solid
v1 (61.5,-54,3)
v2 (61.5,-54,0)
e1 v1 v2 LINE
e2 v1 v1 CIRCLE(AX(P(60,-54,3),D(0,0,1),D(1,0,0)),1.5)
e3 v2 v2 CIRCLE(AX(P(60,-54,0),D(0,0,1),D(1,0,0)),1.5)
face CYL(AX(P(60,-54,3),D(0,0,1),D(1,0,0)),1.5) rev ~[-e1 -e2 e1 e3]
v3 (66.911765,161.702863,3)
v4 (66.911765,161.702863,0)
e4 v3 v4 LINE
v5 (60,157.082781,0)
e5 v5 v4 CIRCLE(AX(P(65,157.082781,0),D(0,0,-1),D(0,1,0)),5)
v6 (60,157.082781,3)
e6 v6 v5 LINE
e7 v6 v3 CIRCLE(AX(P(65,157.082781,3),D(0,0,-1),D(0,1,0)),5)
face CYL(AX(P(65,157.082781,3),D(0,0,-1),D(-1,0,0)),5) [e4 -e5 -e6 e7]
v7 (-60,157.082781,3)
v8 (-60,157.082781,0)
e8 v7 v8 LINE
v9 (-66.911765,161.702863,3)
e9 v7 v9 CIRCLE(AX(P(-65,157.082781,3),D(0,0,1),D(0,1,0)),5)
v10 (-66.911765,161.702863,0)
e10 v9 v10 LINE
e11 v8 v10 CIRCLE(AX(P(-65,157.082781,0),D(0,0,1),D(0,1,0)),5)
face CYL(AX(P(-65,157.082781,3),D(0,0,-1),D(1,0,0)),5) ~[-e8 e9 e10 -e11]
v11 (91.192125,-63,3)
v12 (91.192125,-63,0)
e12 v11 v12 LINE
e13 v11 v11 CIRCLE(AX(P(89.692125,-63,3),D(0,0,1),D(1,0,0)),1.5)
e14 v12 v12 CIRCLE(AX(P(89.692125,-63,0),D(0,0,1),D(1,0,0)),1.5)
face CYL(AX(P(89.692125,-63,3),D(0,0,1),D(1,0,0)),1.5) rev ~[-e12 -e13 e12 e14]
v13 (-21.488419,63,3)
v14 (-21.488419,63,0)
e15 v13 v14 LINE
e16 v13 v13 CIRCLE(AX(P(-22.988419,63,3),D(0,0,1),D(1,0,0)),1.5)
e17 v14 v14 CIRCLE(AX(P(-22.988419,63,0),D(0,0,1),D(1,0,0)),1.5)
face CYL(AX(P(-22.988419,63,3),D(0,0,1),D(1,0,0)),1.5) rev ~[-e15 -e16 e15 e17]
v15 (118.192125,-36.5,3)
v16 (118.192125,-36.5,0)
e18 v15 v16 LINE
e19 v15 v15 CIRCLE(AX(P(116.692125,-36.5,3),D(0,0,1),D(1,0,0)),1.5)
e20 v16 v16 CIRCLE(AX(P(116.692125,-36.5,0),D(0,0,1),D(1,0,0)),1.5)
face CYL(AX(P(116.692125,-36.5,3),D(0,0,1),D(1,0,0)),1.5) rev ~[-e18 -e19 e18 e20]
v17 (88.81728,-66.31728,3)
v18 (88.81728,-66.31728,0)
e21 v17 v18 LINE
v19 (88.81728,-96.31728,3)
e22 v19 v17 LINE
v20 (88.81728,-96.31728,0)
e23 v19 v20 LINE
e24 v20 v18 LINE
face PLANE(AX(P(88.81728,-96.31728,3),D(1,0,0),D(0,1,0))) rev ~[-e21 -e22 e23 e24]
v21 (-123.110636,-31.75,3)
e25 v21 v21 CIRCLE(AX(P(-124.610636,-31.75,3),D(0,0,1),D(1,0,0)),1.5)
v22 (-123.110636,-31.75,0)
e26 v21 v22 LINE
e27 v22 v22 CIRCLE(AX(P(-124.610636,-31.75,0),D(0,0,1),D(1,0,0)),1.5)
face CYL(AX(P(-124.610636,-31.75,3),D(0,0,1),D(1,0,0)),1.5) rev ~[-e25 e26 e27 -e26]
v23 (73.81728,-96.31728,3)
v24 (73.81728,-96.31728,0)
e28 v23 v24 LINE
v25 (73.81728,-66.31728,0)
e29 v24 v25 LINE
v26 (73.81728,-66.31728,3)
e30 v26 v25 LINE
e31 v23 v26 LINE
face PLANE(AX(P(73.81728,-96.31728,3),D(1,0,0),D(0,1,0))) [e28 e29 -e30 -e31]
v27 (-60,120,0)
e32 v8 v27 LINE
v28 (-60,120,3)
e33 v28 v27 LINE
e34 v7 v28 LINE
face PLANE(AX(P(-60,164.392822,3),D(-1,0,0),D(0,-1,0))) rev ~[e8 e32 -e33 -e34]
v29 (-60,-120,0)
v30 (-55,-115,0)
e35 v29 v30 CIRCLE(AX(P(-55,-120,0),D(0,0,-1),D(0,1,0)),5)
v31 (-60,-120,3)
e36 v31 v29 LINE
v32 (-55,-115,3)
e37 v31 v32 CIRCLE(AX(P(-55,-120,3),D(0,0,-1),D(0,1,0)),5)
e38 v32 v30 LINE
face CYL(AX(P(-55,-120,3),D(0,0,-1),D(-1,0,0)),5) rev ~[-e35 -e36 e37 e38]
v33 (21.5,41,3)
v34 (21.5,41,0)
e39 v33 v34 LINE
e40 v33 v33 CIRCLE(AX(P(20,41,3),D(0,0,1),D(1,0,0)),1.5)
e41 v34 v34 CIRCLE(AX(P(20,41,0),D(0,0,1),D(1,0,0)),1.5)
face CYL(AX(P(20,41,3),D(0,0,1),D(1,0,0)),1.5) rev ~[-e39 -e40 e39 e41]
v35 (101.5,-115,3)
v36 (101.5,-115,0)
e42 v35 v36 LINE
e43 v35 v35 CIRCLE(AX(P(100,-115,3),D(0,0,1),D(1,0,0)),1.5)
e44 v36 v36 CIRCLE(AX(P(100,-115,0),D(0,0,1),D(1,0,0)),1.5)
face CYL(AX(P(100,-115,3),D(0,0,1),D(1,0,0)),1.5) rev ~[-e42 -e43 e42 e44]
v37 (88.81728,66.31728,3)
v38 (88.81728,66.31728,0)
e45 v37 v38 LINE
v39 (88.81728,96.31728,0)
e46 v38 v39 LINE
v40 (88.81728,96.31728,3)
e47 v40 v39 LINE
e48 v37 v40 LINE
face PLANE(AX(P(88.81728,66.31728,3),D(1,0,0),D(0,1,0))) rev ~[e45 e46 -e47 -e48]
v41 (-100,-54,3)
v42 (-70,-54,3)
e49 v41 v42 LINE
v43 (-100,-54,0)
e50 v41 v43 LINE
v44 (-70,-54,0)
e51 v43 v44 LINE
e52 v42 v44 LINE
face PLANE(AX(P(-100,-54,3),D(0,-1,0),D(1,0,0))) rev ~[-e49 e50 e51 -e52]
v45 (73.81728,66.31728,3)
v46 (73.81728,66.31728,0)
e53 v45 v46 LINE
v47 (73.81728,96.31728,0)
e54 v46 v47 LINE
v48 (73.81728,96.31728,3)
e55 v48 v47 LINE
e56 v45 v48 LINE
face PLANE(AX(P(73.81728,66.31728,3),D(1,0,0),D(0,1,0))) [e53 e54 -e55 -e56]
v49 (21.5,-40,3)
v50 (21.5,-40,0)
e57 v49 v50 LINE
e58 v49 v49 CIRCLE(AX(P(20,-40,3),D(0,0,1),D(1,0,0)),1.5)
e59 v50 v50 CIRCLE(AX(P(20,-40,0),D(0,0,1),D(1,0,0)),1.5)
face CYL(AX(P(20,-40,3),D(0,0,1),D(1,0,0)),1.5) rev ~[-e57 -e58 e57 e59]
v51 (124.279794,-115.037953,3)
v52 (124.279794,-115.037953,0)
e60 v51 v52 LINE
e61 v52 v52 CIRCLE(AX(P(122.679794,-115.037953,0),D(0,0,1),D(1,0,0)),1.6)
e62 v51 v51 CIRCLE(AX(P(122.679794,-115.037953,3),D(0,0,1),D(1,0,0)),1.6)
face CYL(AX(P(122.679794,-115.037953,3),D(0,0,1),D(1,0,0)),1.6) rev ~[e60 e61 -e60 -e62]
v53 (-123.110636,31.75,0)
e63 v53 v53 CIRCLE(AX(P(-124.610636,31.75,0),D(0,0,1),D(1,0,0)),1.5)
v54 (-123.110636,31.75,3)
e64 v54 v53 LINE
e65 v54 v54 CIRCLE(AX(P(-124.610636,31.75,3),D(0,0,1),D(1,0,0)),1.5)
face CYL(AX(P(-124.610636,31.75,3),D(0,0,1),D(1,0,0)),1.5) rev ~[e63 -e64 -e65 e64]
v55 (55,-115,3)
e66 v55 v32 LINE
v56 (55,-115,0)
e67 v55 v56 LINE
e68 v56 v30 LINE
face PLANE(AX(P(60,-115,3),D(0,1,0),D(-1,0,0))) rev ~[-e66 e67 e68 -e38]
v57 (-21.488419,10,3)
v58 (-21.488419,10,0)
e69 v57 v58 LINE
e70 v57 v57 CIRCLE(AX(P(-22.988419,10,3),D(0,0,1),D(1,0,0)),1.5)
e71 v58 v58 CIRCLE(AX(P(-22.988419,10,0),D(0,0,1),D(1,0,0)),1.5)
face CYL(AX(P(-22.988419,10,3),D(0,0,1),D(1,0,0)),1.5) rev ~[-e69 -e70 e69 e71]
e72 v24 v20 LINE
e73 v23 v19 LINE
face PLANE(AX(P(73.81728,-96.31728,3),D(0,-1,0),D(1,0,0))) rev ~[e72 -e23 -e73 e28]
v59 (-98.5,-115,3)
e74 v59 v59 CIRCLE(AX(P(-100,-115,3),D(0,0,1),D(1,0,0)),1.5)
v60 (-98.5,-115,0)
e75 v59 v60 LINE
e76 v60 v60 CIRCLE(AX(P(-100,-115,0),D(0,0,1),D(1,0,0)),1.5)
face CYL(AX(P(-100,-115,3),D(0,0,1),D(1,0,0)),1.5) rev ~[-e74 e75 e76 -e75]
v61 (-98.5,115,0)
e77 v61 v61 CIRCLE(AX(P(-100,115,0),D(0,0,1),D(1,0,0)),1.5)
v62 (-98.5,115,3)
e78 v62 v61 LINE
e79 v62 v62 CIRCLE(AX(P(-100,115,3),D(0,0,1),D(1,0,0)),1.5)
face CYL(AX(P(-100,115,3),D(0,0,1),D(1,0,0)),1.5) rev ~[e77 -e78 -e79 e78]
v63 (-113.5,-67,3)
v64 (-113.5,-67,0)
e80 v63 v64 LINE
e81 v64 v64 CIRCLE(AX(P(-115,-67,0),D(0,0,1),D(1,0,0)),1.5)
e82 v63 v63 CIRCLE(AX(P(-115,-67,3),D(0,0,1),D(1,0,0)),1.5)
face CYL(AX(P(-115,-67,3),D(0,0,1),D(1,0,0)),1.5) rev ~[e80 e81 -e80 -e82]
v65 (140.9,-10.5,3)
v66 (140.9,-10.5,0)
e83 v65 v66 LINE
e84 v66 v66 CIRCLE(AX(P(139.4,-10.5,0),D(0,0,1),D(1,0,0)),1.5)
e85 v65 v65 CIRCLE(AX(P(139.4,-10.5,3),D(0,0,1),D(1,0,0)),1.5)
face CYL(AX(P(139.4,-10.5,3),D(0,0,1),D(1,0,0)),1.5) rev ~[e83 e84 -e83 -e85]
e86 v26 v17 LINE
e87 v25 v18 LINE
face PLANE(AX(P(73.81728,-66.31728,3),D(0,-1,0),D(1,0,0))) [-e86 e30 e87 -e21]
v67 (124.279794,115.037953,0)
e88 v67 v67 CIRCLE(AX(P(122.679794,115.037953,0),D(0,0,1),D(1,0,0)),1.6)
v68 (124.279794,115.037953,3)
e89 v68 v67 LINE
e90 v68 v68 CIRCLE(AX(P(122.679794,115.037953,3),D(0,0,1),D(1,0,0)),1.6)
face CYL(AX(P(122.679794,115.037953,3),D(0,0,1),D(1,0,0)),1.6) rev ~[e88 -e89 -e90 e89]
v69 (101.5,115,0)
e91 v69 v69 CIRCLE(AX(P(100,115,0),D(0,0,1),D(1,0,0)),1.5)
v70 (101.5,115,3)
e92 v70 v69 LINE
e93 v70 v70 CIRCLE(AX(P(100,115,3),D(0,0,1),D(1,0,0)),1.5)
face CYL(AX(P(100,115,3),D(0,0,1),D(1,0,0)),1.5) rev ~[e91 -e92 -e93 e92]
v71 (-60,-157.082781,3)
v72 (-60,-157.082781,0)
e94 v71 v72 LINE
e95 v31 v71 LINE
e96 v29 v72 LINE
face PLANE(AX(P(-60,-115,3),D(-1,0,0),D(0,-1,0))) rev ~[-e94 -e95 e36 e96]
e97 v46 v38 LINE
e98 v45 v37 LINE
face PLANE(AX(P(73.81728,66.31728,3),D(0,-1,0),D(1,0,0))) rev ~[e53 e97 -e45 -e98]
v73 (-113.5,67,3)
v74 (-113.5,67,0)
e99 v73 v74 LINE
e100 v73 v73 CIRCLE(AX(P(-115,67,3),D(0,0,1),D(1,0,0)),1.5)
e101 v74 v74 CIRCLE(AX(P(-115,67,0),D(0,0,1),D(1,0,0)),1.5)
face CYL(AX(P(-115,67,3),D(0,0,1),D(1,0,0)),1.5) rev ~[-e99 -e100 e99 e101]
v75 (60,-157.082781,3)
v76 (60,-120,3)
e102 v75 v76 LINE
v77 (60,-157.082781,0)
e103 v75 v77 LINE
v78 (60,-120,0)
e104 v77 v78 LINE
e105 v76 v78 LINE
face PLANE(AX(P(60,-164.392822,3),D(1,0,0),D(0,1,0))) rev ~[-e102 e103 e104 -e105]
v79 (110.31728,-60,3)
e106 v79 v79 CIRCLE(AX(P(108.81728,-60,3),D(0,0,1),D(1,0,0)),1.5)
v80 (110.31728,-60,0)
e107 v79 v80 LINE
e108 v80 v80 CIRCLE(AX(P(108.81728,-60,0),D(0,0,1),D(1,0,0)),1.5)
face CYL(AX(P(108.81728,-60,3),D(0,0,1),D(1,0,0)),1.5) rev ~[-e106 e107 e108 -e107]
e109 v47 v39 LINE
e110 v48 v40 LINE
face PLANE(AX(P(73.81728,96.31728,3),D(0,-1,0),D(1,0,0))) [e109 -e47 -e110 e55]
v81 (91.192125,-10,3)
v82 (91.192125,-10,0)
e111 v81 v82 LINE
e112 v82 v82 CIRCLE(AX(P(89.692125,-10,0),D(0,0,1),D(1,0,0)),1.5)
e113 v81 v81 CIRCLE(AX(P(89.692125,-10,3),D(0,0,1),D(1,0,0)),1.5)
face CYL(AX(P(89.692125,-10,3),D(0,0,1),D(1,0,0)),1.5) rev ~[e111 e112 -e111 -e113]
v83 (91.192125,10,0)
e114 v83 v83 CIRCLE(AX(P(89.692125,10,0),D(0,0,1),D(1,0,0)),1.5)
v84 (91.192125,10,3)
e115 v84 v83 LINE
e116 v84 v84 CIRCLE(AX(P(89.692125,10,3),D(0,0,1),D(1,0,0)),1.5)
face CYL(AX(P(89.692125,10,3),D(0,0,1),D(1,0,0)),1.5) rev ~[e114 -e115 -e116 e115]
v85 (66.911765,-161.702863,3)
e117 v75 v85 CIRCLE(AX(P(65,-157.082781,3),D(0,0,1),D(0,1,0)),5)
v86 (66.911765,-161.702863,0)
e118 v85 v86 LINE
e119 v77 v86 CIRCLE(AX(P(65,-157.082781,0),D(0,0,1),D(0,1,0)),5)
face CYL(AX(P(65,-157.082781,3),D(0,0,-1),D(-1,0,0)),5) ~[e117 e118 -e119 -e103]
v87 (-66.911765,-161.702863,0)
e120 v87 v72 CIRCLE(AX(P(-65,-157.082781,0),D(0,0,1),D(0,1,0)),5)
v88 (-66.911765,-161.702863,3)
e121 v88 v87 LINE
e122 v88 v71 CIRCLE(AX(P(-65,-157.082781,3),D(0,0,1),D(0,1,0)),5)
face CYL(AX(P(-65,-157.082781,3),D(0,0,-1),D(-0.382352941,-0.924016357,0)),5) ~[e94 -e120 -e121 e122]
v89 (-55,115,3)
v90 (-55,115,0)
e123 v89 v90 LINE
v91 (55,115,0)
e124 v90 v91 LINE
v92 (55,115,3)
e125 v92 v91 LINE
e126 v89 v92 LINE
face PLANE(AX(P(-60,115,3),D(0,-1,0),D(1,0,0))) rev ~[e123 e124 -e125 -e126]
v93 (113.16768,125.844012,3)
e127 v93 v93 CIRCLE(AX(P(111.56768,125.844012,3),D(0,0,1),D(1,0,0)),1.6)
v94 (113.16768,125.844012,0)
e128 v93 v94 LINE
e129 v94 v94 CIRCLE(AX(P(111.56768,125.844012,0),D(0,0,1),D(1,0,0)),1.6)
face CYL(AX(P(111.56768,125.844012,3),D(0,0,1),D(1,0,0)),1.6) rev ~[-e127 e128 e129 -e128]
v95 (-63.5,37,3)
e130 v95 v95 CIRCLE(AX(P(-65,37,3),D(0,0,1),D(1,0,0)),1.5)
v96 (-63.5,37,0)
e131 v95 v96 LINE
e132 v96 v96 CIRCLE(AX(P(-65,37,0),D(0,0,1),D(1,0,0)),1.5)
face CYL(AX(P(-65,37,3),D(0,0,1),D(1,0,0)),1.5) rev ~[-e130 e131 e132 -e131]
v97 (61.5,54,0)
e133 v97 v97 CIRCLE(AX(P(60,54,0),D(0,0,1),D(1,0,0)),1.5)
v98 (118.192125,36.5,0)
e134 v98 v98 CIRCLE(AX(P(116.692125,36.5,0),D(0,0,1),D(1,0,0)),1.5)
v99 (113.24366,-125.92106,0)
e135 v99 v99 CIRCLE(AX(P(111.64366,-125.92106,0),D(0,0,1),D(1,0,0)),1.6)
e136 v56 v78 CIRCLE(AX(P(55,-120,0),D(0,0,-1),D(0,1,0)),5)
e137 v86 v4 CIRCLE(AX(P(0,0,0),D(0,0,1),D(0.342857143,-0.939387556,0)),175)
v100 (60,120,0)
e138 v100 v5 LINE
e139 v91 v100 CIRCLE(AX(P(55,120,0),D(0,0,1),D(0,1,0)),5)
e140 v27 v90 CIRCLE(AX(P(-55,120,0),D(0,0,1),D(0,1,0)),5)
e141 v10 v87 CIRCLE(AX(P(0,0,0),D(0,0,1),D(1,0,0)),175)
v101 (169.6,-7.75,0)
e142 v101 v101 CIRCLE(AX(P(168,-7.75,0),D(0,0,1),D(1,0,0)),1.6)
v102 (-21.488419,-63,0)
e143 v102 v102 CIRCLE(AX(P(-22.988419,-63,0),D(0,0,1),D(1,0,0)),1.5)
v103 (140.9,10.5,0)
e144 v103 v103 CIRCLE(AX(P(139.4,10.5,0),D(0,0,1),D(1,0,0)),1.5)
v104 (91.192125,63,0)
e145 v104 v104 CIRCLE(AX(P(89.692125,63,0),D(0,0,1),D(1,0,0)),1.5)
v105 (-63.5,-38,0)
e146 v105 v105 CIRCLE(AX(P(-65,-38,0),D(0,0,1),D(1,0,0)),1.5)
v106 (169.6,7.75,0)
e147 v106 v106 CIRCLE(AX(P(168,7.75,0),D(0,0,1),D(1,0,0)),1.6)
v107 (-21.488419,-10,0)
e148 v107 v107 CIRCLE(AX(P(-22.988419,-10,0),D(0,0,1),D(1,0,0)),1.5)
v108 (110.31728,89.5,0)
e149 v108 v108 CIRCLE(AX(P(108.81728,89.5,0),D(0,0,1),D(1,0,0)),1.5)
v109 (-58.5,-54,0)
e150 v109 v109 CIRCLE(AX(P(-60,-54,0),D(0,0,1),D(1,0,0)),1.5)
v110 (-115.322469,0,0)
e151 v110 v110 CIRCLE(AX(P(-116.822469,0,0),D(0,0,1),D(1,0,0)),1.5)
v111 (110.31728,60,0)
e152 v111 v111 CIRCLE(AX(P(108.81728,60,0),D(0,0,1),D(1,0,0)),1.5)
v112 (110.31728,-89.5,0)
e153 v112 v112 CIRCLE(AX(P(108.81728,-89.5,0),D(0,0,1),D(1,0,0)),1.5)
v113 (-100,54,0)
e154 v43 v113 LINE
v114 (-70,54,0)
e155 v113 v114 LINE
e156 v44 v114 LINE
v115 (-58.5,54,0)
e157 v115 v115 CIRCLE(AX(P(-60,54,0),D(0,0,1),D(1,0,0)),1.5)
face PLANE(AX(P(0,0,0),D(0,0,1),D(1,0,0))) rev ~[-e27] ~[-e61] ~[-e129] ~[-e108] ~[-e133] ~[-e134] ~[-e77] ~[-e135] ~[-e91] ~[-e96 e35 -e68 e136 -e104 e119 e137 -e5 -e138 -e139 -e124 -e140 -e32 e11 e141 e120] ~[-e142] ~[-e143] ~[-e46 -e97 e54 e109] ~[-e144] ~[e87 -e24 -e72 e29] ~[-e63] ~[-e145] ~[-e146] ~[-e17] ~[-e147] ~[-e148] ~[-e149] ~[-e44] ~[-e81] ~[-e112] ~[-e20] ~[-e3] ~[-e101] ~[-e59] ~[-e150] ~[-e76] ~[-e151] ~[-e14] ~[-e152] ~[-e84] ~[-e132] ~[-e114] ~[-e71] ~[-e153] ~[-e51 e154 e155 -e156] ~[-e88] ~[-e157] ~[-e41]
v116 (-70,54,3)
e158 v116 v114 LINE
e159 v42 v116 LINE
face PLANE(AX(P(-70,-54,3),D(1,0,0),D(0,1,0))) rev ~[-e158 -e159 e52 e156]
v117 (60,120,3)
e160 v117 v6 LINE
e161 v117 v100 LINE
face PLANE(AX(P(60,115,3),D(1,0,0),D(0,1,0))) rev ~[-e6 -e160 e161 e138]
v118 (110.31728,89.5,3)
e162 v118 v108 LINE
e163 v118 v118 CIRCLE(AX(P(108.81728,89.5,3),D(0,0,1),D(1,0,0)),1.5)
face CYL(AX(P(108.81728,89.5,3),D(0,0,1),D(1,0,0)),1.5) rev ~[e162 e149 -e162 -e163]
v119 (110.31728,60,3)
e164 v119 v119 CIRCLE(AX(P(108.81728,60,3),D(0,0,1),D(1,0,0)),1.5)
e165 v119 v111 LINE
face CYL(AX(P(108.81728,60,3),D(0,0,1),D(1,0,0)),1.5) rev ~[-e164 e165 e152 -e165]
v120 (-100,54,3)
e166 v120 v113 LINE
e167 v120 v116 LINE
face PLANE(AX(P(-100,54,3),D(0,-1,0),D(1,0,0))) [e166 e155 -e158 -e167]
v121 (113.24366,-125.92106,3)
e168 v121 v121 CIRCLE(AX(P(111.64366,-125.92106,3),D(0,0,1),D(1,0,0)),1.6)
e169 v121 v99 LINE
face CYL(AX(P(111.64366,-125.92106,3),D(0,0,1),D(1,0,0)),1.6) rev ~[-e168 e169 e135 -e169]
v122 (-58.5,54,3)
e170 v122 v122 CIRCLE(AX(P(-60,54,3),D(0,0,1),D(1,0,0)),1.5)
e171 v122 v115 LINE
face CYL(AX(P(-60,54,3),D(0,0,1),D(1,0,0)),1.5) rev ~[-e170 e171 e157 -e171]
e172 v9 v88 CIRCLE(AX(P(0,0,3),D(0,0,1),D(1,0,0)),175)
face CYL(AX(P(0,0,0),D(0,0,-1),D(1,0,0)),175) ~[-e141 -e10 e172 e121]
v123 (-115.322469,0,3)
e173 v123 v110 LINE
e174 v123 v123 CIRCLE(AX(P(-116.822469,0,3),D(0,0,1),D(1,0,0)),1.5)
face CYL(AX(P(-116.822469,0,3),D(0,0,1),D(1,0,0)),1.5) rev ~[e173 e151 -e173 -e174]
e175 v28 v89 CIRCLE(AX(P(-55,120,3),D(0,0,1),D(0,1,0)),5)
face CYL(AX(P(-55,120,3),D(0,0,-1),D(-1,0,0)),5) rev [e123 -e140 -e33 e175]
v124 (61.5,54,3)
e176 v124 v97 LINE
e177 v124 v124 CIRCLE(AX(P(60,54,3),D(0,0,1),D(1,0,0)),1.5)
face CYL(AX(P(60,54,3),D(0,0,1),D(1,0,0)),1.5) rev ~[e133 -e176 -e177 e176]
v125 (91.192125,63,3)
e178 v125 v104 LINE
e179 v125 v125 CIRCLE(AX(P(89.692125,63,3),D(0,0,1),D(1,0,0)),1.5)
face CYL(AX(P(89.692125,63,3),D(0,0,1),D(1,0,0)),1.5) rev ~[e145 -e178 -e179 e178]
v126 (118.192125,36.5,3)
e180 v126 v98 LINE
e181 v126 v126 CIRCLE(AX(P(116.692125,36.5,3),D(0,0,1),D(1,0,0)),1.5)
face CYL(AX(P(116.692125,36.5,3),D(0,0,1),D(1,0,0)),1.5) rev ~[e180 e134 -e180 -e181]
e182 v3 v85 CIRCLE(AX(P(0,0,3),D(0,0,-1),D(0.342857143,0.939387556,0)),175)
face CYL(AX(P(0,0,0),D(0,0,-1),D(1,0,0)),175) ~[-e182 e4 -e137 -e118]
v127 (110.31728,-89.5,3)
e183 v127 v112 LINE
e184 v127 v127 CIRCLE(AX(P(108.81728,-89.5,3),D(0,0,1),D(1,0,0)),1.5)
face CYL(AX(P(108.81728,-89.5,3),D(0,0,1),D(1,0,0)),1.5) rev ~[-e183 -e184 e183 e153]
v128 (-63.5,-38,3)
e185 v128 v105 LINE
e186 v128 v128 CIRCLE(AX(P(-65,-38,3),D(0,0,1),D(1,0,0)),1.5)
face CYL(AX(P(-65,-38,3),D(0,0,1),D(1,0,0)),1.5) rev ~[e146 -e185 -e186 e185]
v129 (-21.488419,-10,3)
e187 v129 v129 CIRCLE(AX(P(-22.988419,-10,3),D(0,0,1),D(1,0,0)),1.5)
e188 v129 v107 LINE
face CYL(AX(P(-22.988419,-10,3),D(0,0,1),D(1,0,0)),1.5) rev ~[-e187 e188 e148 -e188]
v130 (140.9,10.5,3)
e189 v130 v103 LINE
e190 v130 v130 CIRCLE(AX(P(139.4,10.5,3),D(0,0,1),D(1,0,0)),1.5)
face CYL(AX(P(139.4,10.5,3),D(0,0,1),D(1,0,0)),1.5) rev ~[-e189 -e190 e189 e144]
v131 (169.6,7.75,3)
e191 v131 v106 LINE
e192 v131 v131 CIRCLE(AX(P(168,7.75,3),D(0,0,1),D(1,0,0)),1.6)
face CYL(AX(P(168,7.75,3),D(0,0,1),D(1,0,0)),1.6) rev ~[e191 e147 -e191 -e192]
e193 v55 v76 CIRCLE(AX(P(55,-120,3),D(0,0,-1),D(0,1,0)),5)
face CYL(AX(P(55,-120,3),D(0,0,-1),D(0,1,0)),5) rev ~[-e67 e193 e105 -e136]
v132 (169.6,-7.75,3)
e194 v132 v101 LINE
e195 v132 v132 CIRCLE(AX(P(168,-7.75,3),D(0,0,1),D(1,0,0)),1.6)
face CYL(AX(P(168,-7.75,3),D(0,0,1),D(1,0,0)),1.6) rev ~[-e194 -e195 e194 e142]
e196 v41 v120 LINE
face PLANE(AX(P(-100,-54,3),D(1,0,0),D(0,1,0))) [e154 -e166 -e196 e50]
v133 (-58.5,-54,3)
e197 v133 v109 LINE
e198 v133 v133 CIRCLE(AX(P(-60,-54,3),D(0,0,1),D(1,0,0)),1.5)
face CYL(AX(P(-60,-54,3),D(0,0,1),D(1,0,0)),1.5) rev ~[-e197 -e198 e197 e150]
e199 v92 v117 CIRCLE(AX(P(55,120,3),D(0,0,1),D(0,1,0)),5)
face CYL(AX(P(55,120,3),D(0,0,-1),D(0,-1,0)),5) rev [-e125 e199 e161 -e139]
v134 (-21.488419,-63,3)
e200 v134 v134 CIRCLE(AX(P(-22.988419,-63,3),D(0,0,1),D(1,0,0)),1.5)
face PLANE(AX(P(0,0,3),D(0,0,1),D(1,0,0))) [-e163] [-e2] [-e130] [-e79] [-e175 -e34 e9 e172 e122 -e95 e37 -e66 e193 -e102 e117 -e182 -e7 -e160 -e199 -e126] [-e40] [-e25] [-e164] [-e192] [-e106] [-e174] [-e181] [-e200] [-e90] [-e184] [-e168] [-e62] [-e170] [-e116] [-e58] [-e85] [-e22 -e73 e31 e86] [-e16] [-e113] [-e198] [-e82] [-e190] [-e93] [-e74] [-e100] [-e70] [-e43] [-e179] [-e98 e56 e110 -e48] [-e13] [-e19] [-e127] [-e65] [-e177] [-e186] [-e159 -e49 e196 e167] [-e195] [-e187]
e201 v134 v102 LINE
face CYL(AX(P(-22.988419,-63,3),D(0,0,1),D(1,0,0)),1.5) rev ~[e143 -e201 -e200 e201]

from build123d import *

# Parameters (mm, degrees)
SKETCH_1_R             = 175
EXTRUDE_1_DEPTH        = 3
CUT_EXTRUDE_1_DEPTH    = 3
FILLET_1_R             = 5
FILLET_2_R             = 5
FILLET_3_R             = 5
SKETCH_5_R             = 1.5
CUT_EXTRUDE_4_DEPTH    = 3
SKETCH_6_R             = 1.5
CUT_EXTRUDE_5_DEPTH    = 3
SKETCH_7_W             = 30
SKETCH_7_H             = 108
CUT_EXTRUDE_6_DEPTH    = 3
SKETCH_8_R             = 1.5
CUT_EXTRUDE_7_DEPTH    = 3
SKETCH_9_R             = 1.5
CUT_EXTRUDE_8_DEPTH    = 10
SKETCH_10_R            = 1.6
CUT_EXTRUDE_9_DEPTH    = 10
SKETCH_11_W            = 15
SKETCH_11_H            = 30
CUT_EXTRUDE_10_DEPTH   = 10
SKETCH_12_R            = 1.5
CUT_EXTRUDE_11_DEPTH   = 4
SKETCH_13_R            = 1.5
CUT_EXTRUDE_12_DEPTH   = 4
PATTERN_LINEAR_1_COUNT = 2
PATTERN_LINEAR_1_PITCH = 73
SKETCH_14_R            = 1.5
CUT_EXTRUDE_14_DEPTH   = 4
SKETCH_17_R            = 1.5
CUT_EXTRUDE_15_DEPTH   = 4
SKETCH_18_R            = 1.5
CUT_EXTRUDE_16_DEPTH   = 4


with BuildPart() as part:
    # ｽｹｯﾁ1 → ﾎﾞｽ - 押し出し1 (new body)
    with BuildSketch(Plane.XY):
        Circle(SKETCH_1_R)
    extrude(amount=EXTRUDE_1_DEPTH)

    # ｽｹｯﾁ2 → ｶｯﾄ - 押し出し1 (cut)
    with BuildSketch(Plane.XY.offset(3)):
        with BuildLine():
            Line((-60, 115), (0, 115))
            Line((0, 115), (0, 175))
            ThreePointArc((0, 175), (-30.465194158, 172.327803749), (-60, 164.392822228))
            Line((-60, 164.392822228), (-60, 115))
        make_face()
        with BuildLine():
            Line((0, 175), (0, 115))
            Line((0, 115), (60, 115))
            Line((60, 115), (60, 164.392822228))
            ThreePointArc((60, 164.392822228), (30.465194158, 172.327803749), (0, 175))
        make_face()
        with BuildLine():
            Line((0, -175), (0, -115))
            Line((0, -115), (-60, -115))
            Line((-60, -115), (-60, -164.392822228))
            ThreePointArc((-60, -164.392822228), (-30.465194158, -172.327803749), (0, -175))
        make_face()
        with BuildLine():
            Line((60, -115), (0, -115))
            Line((0, -115), (0, -175))
            ThreePointArc((0, -175), (30.465194158, -172.327803749), (60, -164.392822228))
            Line((60, -164.392822228), (60, -115))
        make_face()
    extrude(amount=-CUT_EXTRUDE_1_DEPTH, mode=Mode.SUBTRACT)

    # ﾌｨﾚｯﾄ1
    fillet_1_edges = [part.edges().sort_by_distance(p)[0] for p in [
        (-60, 164.392822228, 1.5),
    ]]
    fillet(fillet_1_edges, radius=FILLET_1_R)

    # ﾌｨﾚｯﾄ2
    fillet_2_edges = [part.edges().sort_by_distance(p)[0] for p in [
        (-60, 115, 1.5),
        (60, 164.392822228, 1.5),
        (60, 115, 1.5),
    ]]
    fillet(fillet_2_edges, radius=FILLET_2_R)

    # ﾌｨﾚｯﾄ3
    fillet_3_edges = [part.edges().sort_by_distance(p)[0] for p in [
        (-60, -115, 1.5),
        (60, -115, 1.5),
        (60, -164.392822228, 1.5),
        (-60, -164.392822228, 1.5),
    ]]
    fillet(fillet_3_edges, radius=FILLET_3_R)

    # ｽｹｯﾁ5 → ｶｯﾄ - 押し出し4 (cut)
    with BuildSketch(Plane.XY.offset(3)):
        with Locations((-100, -115)):
            Circle(SKETCH_5_R)
        with Locations((100, -115)):
            Circle(SKETCH_5_R)
        with Locations((100, 115)):
            Circle(SKETCH_5_R)
        with Locations((-100, 115)):
            Circle(SKETCH_5_R)
    extrude(amount=-CUT_EXTRUDE_4_DEPTH, mode=Mode.SUBTRACT)

    # ｽｹｯﾁ6 → ｶｯﾄ - 押し出し5 (cut)
    with BuildSketch(Plane.XY.offset(3)):
        with Locations((-60, 54)):
            Circle(SKETCH_6_R)
        with Locations((60, 54)):
            Circle(SKETCH_6_R)
        with Locations((-60, -54)):
            Circle(SKETCH_6_R)
        with Locations((60, -54)):
            Circle(SKETCH_6_R)
    extrude(amount=-CUT_EXTRUDE_5_DEPTH, mode=Mode.SUBTRACT)

    # ｽｹｯﾁ7 → ｶｯﾄ - 押し出し6 (cut)
    with BuildSketch(Plane.XY.offset(3)):
        with Locations((-85, 0)):
            Rectangle(SKETCH_7_W, SKETCH_7_H)
    extrude(amount=-CUT_EXTRUDE_6_DEPTH, mode=Mode.SUBTRACT)

    # ｽｹｯﾁ8 → ｶｯﾄ - 押し出し7 (cut)
    with BuildSketch(Plane.XY.offset(3)):
        with Locations((-115, -67)):
            Circle(SKETCH_8_R)
        with Locations((-116.822468618, 0)):
            Circle(SKETCH_8_R)
        with Locations((-115, 67)):
            Circle(SKETCH_8_R)
    extrude(amount=-CUT_EXTRUDE_7_DEPTH, mode=Mode.SUBTRACT)

    # ｽｹｯﾁ9 → ｶｯﾄ - 押し出し8 (cut)
    with BuildSketch(Plane.XY.offset(3)):
        with Locations((-65, 37)):
            Circle(SKETCH_9_R)
        with Locations((20, 41)):
            Circle(SKETCH_9_R)
        with Locations((-65, -38)):
            Circle(SKETCH_9_R)
        with Locations((20, -40)):
            Circle(SKETCH_9_R)
    extrude(amount=-CUT_EXTRUDE_8_DEPTH, mode=Mode.SUBTRACT)

    # ｽｹｯﾁ10 → ｶｯﾄ - 押し出し9 (cut)
    with BuildSketch(Plane.XY.offset(3)):
        with Locations((111.643659725, -125.921059639)):
            Circle(SKETCH_10_R)
        with Locations((122.679794489, -115.037952538)):
            Circle(SKETCH_10_R)
        with Locations((168, 7.75)):
            Circle(SKETCH_10_R)
        with Locations((168, -7.75)):
            Circle(SKETCH_10_R)
        with Locations((111.56768007, 125.844011632)):
            Circle(SKETCH_10_R)
        with Locations((122.679794489, 115.037952538)):
            Circle(SKETCH_10_R)
    extrude(amount=-CUT_EXTRUDE_9_DEPTH, mode=Mode.SUBTRACT)

    # ｽｹｯﾁ11 → ｶｯﾄ - 押し出し10 (cut)
    with BuildSketch(Plane.XY.offset(3)):
        with Locations((81.317279836, 81.317279836)):
            Rectangle(SKETCH_11_W, SKETCH_11_H)
        with Locations((81.317279836, -81.317279836)):
            Rectangle(SKETCH_11_W, SKETCH_11_H)
    extrude(amount=-CUT_EXTRUDE_10_DEPTH, mode=Mode.SUBTRACT)

    # ｽｹｯﾁ12 → ｶｯﾄ - 押し出し11 (cut, through all)
    with BuildSketch(Plane.XY.offset(3)):
        with Locations((139.4, 10.5)):
            Circle(SKETCH_12_R)
        with Locations((139.4, -10.5)):
            Circle(SKETCH_12_R)
    extrude(amount=-CUT_EXTRUDE_11_DEPTH, mode=Mode.SUBTRACT)

    # ｽｹｯﾁ13 → ｶｯﾄ - 押し出し12 (cut, through all)
    with BuildSketch(Plane.XY.offset(3)):
        with Locations((89.692125231, 10)):
            Circle(SKETCH_13_R)
        with Locations((89.692125231, 63)):
            Circle(SKETCH_13_R)
        with Locations((-22.988418993, 63)):
            Circle(SKETCH_13_R)
        with Locations((-22.988418993, 10)):
            Circle(SKETCH_13_R)
        with Locations((116.692125231, 36.5)):
            Circle(SKETCH_13_R)
    cut_extrude_12 = extrude(amount=-CUT_EXTRUDE_12_DEPTH, mode=Mode.SUBTRACT)

    # 直線ﾊﾟﾀｰﾝ1: ｶｯﾄ - 押し出し12 ×2
    with Locations(*[(0, -i * PATTERN_LINEAR_1_PITCH, 0) for i in range(1, PATTERN_LINEAR_1_COUNT)]):
        add(cut_extrude_12, mode=Mode.SUBTRACT)

    # ｽｹｯﾁ14 → ｶｯﾄ - 押し出し14 (cut, through all)
    with BuildSketch(Plane.XY.offset(3)):
        with Locations((108.817279836, 89.5)):
            Circle(SKETCH_14_R)
        with Locations((108.817279836, 60)):
            Circle(SKETCH_14_R)
    extrude(amount=-CUT_EXTRUDE_14_DEPTH, mode=Mode.SUBTRACT)

    # ｽｹｯﾁ17 → ｶｯﾄ - 押し出し15 (cut, through all)
    with BuildSketch(Plane.XY.offset(3)):
        with Locations((108.817279836, -60)):
            Circle(SKETCH_17_R)
        with Locations((108.817279836, -89.5)):
            Circle(SKETCH_17_R)
    extrude(amount=-CUT_EXTRUDE_15_DEPTH, mode=Mode.SUBTRACT)

    # ｽｹｯﾁ18 → ｶｯﾄ - 押し出し16 (cut, through all)
    with BuildSketch(Plane.XY.offset(3)):
        with Locations((-124.610636376, 31.75)):
            Circle(SKETCH_18_R)
        with Locations((-124.610636376, -31.75)):
            Circle(SKETCH_18_R)
    extrude(amount=-CUT_EXTRUDE_16_DEPTH, mode=Mode.SUBTRACT)


solid = part.part
